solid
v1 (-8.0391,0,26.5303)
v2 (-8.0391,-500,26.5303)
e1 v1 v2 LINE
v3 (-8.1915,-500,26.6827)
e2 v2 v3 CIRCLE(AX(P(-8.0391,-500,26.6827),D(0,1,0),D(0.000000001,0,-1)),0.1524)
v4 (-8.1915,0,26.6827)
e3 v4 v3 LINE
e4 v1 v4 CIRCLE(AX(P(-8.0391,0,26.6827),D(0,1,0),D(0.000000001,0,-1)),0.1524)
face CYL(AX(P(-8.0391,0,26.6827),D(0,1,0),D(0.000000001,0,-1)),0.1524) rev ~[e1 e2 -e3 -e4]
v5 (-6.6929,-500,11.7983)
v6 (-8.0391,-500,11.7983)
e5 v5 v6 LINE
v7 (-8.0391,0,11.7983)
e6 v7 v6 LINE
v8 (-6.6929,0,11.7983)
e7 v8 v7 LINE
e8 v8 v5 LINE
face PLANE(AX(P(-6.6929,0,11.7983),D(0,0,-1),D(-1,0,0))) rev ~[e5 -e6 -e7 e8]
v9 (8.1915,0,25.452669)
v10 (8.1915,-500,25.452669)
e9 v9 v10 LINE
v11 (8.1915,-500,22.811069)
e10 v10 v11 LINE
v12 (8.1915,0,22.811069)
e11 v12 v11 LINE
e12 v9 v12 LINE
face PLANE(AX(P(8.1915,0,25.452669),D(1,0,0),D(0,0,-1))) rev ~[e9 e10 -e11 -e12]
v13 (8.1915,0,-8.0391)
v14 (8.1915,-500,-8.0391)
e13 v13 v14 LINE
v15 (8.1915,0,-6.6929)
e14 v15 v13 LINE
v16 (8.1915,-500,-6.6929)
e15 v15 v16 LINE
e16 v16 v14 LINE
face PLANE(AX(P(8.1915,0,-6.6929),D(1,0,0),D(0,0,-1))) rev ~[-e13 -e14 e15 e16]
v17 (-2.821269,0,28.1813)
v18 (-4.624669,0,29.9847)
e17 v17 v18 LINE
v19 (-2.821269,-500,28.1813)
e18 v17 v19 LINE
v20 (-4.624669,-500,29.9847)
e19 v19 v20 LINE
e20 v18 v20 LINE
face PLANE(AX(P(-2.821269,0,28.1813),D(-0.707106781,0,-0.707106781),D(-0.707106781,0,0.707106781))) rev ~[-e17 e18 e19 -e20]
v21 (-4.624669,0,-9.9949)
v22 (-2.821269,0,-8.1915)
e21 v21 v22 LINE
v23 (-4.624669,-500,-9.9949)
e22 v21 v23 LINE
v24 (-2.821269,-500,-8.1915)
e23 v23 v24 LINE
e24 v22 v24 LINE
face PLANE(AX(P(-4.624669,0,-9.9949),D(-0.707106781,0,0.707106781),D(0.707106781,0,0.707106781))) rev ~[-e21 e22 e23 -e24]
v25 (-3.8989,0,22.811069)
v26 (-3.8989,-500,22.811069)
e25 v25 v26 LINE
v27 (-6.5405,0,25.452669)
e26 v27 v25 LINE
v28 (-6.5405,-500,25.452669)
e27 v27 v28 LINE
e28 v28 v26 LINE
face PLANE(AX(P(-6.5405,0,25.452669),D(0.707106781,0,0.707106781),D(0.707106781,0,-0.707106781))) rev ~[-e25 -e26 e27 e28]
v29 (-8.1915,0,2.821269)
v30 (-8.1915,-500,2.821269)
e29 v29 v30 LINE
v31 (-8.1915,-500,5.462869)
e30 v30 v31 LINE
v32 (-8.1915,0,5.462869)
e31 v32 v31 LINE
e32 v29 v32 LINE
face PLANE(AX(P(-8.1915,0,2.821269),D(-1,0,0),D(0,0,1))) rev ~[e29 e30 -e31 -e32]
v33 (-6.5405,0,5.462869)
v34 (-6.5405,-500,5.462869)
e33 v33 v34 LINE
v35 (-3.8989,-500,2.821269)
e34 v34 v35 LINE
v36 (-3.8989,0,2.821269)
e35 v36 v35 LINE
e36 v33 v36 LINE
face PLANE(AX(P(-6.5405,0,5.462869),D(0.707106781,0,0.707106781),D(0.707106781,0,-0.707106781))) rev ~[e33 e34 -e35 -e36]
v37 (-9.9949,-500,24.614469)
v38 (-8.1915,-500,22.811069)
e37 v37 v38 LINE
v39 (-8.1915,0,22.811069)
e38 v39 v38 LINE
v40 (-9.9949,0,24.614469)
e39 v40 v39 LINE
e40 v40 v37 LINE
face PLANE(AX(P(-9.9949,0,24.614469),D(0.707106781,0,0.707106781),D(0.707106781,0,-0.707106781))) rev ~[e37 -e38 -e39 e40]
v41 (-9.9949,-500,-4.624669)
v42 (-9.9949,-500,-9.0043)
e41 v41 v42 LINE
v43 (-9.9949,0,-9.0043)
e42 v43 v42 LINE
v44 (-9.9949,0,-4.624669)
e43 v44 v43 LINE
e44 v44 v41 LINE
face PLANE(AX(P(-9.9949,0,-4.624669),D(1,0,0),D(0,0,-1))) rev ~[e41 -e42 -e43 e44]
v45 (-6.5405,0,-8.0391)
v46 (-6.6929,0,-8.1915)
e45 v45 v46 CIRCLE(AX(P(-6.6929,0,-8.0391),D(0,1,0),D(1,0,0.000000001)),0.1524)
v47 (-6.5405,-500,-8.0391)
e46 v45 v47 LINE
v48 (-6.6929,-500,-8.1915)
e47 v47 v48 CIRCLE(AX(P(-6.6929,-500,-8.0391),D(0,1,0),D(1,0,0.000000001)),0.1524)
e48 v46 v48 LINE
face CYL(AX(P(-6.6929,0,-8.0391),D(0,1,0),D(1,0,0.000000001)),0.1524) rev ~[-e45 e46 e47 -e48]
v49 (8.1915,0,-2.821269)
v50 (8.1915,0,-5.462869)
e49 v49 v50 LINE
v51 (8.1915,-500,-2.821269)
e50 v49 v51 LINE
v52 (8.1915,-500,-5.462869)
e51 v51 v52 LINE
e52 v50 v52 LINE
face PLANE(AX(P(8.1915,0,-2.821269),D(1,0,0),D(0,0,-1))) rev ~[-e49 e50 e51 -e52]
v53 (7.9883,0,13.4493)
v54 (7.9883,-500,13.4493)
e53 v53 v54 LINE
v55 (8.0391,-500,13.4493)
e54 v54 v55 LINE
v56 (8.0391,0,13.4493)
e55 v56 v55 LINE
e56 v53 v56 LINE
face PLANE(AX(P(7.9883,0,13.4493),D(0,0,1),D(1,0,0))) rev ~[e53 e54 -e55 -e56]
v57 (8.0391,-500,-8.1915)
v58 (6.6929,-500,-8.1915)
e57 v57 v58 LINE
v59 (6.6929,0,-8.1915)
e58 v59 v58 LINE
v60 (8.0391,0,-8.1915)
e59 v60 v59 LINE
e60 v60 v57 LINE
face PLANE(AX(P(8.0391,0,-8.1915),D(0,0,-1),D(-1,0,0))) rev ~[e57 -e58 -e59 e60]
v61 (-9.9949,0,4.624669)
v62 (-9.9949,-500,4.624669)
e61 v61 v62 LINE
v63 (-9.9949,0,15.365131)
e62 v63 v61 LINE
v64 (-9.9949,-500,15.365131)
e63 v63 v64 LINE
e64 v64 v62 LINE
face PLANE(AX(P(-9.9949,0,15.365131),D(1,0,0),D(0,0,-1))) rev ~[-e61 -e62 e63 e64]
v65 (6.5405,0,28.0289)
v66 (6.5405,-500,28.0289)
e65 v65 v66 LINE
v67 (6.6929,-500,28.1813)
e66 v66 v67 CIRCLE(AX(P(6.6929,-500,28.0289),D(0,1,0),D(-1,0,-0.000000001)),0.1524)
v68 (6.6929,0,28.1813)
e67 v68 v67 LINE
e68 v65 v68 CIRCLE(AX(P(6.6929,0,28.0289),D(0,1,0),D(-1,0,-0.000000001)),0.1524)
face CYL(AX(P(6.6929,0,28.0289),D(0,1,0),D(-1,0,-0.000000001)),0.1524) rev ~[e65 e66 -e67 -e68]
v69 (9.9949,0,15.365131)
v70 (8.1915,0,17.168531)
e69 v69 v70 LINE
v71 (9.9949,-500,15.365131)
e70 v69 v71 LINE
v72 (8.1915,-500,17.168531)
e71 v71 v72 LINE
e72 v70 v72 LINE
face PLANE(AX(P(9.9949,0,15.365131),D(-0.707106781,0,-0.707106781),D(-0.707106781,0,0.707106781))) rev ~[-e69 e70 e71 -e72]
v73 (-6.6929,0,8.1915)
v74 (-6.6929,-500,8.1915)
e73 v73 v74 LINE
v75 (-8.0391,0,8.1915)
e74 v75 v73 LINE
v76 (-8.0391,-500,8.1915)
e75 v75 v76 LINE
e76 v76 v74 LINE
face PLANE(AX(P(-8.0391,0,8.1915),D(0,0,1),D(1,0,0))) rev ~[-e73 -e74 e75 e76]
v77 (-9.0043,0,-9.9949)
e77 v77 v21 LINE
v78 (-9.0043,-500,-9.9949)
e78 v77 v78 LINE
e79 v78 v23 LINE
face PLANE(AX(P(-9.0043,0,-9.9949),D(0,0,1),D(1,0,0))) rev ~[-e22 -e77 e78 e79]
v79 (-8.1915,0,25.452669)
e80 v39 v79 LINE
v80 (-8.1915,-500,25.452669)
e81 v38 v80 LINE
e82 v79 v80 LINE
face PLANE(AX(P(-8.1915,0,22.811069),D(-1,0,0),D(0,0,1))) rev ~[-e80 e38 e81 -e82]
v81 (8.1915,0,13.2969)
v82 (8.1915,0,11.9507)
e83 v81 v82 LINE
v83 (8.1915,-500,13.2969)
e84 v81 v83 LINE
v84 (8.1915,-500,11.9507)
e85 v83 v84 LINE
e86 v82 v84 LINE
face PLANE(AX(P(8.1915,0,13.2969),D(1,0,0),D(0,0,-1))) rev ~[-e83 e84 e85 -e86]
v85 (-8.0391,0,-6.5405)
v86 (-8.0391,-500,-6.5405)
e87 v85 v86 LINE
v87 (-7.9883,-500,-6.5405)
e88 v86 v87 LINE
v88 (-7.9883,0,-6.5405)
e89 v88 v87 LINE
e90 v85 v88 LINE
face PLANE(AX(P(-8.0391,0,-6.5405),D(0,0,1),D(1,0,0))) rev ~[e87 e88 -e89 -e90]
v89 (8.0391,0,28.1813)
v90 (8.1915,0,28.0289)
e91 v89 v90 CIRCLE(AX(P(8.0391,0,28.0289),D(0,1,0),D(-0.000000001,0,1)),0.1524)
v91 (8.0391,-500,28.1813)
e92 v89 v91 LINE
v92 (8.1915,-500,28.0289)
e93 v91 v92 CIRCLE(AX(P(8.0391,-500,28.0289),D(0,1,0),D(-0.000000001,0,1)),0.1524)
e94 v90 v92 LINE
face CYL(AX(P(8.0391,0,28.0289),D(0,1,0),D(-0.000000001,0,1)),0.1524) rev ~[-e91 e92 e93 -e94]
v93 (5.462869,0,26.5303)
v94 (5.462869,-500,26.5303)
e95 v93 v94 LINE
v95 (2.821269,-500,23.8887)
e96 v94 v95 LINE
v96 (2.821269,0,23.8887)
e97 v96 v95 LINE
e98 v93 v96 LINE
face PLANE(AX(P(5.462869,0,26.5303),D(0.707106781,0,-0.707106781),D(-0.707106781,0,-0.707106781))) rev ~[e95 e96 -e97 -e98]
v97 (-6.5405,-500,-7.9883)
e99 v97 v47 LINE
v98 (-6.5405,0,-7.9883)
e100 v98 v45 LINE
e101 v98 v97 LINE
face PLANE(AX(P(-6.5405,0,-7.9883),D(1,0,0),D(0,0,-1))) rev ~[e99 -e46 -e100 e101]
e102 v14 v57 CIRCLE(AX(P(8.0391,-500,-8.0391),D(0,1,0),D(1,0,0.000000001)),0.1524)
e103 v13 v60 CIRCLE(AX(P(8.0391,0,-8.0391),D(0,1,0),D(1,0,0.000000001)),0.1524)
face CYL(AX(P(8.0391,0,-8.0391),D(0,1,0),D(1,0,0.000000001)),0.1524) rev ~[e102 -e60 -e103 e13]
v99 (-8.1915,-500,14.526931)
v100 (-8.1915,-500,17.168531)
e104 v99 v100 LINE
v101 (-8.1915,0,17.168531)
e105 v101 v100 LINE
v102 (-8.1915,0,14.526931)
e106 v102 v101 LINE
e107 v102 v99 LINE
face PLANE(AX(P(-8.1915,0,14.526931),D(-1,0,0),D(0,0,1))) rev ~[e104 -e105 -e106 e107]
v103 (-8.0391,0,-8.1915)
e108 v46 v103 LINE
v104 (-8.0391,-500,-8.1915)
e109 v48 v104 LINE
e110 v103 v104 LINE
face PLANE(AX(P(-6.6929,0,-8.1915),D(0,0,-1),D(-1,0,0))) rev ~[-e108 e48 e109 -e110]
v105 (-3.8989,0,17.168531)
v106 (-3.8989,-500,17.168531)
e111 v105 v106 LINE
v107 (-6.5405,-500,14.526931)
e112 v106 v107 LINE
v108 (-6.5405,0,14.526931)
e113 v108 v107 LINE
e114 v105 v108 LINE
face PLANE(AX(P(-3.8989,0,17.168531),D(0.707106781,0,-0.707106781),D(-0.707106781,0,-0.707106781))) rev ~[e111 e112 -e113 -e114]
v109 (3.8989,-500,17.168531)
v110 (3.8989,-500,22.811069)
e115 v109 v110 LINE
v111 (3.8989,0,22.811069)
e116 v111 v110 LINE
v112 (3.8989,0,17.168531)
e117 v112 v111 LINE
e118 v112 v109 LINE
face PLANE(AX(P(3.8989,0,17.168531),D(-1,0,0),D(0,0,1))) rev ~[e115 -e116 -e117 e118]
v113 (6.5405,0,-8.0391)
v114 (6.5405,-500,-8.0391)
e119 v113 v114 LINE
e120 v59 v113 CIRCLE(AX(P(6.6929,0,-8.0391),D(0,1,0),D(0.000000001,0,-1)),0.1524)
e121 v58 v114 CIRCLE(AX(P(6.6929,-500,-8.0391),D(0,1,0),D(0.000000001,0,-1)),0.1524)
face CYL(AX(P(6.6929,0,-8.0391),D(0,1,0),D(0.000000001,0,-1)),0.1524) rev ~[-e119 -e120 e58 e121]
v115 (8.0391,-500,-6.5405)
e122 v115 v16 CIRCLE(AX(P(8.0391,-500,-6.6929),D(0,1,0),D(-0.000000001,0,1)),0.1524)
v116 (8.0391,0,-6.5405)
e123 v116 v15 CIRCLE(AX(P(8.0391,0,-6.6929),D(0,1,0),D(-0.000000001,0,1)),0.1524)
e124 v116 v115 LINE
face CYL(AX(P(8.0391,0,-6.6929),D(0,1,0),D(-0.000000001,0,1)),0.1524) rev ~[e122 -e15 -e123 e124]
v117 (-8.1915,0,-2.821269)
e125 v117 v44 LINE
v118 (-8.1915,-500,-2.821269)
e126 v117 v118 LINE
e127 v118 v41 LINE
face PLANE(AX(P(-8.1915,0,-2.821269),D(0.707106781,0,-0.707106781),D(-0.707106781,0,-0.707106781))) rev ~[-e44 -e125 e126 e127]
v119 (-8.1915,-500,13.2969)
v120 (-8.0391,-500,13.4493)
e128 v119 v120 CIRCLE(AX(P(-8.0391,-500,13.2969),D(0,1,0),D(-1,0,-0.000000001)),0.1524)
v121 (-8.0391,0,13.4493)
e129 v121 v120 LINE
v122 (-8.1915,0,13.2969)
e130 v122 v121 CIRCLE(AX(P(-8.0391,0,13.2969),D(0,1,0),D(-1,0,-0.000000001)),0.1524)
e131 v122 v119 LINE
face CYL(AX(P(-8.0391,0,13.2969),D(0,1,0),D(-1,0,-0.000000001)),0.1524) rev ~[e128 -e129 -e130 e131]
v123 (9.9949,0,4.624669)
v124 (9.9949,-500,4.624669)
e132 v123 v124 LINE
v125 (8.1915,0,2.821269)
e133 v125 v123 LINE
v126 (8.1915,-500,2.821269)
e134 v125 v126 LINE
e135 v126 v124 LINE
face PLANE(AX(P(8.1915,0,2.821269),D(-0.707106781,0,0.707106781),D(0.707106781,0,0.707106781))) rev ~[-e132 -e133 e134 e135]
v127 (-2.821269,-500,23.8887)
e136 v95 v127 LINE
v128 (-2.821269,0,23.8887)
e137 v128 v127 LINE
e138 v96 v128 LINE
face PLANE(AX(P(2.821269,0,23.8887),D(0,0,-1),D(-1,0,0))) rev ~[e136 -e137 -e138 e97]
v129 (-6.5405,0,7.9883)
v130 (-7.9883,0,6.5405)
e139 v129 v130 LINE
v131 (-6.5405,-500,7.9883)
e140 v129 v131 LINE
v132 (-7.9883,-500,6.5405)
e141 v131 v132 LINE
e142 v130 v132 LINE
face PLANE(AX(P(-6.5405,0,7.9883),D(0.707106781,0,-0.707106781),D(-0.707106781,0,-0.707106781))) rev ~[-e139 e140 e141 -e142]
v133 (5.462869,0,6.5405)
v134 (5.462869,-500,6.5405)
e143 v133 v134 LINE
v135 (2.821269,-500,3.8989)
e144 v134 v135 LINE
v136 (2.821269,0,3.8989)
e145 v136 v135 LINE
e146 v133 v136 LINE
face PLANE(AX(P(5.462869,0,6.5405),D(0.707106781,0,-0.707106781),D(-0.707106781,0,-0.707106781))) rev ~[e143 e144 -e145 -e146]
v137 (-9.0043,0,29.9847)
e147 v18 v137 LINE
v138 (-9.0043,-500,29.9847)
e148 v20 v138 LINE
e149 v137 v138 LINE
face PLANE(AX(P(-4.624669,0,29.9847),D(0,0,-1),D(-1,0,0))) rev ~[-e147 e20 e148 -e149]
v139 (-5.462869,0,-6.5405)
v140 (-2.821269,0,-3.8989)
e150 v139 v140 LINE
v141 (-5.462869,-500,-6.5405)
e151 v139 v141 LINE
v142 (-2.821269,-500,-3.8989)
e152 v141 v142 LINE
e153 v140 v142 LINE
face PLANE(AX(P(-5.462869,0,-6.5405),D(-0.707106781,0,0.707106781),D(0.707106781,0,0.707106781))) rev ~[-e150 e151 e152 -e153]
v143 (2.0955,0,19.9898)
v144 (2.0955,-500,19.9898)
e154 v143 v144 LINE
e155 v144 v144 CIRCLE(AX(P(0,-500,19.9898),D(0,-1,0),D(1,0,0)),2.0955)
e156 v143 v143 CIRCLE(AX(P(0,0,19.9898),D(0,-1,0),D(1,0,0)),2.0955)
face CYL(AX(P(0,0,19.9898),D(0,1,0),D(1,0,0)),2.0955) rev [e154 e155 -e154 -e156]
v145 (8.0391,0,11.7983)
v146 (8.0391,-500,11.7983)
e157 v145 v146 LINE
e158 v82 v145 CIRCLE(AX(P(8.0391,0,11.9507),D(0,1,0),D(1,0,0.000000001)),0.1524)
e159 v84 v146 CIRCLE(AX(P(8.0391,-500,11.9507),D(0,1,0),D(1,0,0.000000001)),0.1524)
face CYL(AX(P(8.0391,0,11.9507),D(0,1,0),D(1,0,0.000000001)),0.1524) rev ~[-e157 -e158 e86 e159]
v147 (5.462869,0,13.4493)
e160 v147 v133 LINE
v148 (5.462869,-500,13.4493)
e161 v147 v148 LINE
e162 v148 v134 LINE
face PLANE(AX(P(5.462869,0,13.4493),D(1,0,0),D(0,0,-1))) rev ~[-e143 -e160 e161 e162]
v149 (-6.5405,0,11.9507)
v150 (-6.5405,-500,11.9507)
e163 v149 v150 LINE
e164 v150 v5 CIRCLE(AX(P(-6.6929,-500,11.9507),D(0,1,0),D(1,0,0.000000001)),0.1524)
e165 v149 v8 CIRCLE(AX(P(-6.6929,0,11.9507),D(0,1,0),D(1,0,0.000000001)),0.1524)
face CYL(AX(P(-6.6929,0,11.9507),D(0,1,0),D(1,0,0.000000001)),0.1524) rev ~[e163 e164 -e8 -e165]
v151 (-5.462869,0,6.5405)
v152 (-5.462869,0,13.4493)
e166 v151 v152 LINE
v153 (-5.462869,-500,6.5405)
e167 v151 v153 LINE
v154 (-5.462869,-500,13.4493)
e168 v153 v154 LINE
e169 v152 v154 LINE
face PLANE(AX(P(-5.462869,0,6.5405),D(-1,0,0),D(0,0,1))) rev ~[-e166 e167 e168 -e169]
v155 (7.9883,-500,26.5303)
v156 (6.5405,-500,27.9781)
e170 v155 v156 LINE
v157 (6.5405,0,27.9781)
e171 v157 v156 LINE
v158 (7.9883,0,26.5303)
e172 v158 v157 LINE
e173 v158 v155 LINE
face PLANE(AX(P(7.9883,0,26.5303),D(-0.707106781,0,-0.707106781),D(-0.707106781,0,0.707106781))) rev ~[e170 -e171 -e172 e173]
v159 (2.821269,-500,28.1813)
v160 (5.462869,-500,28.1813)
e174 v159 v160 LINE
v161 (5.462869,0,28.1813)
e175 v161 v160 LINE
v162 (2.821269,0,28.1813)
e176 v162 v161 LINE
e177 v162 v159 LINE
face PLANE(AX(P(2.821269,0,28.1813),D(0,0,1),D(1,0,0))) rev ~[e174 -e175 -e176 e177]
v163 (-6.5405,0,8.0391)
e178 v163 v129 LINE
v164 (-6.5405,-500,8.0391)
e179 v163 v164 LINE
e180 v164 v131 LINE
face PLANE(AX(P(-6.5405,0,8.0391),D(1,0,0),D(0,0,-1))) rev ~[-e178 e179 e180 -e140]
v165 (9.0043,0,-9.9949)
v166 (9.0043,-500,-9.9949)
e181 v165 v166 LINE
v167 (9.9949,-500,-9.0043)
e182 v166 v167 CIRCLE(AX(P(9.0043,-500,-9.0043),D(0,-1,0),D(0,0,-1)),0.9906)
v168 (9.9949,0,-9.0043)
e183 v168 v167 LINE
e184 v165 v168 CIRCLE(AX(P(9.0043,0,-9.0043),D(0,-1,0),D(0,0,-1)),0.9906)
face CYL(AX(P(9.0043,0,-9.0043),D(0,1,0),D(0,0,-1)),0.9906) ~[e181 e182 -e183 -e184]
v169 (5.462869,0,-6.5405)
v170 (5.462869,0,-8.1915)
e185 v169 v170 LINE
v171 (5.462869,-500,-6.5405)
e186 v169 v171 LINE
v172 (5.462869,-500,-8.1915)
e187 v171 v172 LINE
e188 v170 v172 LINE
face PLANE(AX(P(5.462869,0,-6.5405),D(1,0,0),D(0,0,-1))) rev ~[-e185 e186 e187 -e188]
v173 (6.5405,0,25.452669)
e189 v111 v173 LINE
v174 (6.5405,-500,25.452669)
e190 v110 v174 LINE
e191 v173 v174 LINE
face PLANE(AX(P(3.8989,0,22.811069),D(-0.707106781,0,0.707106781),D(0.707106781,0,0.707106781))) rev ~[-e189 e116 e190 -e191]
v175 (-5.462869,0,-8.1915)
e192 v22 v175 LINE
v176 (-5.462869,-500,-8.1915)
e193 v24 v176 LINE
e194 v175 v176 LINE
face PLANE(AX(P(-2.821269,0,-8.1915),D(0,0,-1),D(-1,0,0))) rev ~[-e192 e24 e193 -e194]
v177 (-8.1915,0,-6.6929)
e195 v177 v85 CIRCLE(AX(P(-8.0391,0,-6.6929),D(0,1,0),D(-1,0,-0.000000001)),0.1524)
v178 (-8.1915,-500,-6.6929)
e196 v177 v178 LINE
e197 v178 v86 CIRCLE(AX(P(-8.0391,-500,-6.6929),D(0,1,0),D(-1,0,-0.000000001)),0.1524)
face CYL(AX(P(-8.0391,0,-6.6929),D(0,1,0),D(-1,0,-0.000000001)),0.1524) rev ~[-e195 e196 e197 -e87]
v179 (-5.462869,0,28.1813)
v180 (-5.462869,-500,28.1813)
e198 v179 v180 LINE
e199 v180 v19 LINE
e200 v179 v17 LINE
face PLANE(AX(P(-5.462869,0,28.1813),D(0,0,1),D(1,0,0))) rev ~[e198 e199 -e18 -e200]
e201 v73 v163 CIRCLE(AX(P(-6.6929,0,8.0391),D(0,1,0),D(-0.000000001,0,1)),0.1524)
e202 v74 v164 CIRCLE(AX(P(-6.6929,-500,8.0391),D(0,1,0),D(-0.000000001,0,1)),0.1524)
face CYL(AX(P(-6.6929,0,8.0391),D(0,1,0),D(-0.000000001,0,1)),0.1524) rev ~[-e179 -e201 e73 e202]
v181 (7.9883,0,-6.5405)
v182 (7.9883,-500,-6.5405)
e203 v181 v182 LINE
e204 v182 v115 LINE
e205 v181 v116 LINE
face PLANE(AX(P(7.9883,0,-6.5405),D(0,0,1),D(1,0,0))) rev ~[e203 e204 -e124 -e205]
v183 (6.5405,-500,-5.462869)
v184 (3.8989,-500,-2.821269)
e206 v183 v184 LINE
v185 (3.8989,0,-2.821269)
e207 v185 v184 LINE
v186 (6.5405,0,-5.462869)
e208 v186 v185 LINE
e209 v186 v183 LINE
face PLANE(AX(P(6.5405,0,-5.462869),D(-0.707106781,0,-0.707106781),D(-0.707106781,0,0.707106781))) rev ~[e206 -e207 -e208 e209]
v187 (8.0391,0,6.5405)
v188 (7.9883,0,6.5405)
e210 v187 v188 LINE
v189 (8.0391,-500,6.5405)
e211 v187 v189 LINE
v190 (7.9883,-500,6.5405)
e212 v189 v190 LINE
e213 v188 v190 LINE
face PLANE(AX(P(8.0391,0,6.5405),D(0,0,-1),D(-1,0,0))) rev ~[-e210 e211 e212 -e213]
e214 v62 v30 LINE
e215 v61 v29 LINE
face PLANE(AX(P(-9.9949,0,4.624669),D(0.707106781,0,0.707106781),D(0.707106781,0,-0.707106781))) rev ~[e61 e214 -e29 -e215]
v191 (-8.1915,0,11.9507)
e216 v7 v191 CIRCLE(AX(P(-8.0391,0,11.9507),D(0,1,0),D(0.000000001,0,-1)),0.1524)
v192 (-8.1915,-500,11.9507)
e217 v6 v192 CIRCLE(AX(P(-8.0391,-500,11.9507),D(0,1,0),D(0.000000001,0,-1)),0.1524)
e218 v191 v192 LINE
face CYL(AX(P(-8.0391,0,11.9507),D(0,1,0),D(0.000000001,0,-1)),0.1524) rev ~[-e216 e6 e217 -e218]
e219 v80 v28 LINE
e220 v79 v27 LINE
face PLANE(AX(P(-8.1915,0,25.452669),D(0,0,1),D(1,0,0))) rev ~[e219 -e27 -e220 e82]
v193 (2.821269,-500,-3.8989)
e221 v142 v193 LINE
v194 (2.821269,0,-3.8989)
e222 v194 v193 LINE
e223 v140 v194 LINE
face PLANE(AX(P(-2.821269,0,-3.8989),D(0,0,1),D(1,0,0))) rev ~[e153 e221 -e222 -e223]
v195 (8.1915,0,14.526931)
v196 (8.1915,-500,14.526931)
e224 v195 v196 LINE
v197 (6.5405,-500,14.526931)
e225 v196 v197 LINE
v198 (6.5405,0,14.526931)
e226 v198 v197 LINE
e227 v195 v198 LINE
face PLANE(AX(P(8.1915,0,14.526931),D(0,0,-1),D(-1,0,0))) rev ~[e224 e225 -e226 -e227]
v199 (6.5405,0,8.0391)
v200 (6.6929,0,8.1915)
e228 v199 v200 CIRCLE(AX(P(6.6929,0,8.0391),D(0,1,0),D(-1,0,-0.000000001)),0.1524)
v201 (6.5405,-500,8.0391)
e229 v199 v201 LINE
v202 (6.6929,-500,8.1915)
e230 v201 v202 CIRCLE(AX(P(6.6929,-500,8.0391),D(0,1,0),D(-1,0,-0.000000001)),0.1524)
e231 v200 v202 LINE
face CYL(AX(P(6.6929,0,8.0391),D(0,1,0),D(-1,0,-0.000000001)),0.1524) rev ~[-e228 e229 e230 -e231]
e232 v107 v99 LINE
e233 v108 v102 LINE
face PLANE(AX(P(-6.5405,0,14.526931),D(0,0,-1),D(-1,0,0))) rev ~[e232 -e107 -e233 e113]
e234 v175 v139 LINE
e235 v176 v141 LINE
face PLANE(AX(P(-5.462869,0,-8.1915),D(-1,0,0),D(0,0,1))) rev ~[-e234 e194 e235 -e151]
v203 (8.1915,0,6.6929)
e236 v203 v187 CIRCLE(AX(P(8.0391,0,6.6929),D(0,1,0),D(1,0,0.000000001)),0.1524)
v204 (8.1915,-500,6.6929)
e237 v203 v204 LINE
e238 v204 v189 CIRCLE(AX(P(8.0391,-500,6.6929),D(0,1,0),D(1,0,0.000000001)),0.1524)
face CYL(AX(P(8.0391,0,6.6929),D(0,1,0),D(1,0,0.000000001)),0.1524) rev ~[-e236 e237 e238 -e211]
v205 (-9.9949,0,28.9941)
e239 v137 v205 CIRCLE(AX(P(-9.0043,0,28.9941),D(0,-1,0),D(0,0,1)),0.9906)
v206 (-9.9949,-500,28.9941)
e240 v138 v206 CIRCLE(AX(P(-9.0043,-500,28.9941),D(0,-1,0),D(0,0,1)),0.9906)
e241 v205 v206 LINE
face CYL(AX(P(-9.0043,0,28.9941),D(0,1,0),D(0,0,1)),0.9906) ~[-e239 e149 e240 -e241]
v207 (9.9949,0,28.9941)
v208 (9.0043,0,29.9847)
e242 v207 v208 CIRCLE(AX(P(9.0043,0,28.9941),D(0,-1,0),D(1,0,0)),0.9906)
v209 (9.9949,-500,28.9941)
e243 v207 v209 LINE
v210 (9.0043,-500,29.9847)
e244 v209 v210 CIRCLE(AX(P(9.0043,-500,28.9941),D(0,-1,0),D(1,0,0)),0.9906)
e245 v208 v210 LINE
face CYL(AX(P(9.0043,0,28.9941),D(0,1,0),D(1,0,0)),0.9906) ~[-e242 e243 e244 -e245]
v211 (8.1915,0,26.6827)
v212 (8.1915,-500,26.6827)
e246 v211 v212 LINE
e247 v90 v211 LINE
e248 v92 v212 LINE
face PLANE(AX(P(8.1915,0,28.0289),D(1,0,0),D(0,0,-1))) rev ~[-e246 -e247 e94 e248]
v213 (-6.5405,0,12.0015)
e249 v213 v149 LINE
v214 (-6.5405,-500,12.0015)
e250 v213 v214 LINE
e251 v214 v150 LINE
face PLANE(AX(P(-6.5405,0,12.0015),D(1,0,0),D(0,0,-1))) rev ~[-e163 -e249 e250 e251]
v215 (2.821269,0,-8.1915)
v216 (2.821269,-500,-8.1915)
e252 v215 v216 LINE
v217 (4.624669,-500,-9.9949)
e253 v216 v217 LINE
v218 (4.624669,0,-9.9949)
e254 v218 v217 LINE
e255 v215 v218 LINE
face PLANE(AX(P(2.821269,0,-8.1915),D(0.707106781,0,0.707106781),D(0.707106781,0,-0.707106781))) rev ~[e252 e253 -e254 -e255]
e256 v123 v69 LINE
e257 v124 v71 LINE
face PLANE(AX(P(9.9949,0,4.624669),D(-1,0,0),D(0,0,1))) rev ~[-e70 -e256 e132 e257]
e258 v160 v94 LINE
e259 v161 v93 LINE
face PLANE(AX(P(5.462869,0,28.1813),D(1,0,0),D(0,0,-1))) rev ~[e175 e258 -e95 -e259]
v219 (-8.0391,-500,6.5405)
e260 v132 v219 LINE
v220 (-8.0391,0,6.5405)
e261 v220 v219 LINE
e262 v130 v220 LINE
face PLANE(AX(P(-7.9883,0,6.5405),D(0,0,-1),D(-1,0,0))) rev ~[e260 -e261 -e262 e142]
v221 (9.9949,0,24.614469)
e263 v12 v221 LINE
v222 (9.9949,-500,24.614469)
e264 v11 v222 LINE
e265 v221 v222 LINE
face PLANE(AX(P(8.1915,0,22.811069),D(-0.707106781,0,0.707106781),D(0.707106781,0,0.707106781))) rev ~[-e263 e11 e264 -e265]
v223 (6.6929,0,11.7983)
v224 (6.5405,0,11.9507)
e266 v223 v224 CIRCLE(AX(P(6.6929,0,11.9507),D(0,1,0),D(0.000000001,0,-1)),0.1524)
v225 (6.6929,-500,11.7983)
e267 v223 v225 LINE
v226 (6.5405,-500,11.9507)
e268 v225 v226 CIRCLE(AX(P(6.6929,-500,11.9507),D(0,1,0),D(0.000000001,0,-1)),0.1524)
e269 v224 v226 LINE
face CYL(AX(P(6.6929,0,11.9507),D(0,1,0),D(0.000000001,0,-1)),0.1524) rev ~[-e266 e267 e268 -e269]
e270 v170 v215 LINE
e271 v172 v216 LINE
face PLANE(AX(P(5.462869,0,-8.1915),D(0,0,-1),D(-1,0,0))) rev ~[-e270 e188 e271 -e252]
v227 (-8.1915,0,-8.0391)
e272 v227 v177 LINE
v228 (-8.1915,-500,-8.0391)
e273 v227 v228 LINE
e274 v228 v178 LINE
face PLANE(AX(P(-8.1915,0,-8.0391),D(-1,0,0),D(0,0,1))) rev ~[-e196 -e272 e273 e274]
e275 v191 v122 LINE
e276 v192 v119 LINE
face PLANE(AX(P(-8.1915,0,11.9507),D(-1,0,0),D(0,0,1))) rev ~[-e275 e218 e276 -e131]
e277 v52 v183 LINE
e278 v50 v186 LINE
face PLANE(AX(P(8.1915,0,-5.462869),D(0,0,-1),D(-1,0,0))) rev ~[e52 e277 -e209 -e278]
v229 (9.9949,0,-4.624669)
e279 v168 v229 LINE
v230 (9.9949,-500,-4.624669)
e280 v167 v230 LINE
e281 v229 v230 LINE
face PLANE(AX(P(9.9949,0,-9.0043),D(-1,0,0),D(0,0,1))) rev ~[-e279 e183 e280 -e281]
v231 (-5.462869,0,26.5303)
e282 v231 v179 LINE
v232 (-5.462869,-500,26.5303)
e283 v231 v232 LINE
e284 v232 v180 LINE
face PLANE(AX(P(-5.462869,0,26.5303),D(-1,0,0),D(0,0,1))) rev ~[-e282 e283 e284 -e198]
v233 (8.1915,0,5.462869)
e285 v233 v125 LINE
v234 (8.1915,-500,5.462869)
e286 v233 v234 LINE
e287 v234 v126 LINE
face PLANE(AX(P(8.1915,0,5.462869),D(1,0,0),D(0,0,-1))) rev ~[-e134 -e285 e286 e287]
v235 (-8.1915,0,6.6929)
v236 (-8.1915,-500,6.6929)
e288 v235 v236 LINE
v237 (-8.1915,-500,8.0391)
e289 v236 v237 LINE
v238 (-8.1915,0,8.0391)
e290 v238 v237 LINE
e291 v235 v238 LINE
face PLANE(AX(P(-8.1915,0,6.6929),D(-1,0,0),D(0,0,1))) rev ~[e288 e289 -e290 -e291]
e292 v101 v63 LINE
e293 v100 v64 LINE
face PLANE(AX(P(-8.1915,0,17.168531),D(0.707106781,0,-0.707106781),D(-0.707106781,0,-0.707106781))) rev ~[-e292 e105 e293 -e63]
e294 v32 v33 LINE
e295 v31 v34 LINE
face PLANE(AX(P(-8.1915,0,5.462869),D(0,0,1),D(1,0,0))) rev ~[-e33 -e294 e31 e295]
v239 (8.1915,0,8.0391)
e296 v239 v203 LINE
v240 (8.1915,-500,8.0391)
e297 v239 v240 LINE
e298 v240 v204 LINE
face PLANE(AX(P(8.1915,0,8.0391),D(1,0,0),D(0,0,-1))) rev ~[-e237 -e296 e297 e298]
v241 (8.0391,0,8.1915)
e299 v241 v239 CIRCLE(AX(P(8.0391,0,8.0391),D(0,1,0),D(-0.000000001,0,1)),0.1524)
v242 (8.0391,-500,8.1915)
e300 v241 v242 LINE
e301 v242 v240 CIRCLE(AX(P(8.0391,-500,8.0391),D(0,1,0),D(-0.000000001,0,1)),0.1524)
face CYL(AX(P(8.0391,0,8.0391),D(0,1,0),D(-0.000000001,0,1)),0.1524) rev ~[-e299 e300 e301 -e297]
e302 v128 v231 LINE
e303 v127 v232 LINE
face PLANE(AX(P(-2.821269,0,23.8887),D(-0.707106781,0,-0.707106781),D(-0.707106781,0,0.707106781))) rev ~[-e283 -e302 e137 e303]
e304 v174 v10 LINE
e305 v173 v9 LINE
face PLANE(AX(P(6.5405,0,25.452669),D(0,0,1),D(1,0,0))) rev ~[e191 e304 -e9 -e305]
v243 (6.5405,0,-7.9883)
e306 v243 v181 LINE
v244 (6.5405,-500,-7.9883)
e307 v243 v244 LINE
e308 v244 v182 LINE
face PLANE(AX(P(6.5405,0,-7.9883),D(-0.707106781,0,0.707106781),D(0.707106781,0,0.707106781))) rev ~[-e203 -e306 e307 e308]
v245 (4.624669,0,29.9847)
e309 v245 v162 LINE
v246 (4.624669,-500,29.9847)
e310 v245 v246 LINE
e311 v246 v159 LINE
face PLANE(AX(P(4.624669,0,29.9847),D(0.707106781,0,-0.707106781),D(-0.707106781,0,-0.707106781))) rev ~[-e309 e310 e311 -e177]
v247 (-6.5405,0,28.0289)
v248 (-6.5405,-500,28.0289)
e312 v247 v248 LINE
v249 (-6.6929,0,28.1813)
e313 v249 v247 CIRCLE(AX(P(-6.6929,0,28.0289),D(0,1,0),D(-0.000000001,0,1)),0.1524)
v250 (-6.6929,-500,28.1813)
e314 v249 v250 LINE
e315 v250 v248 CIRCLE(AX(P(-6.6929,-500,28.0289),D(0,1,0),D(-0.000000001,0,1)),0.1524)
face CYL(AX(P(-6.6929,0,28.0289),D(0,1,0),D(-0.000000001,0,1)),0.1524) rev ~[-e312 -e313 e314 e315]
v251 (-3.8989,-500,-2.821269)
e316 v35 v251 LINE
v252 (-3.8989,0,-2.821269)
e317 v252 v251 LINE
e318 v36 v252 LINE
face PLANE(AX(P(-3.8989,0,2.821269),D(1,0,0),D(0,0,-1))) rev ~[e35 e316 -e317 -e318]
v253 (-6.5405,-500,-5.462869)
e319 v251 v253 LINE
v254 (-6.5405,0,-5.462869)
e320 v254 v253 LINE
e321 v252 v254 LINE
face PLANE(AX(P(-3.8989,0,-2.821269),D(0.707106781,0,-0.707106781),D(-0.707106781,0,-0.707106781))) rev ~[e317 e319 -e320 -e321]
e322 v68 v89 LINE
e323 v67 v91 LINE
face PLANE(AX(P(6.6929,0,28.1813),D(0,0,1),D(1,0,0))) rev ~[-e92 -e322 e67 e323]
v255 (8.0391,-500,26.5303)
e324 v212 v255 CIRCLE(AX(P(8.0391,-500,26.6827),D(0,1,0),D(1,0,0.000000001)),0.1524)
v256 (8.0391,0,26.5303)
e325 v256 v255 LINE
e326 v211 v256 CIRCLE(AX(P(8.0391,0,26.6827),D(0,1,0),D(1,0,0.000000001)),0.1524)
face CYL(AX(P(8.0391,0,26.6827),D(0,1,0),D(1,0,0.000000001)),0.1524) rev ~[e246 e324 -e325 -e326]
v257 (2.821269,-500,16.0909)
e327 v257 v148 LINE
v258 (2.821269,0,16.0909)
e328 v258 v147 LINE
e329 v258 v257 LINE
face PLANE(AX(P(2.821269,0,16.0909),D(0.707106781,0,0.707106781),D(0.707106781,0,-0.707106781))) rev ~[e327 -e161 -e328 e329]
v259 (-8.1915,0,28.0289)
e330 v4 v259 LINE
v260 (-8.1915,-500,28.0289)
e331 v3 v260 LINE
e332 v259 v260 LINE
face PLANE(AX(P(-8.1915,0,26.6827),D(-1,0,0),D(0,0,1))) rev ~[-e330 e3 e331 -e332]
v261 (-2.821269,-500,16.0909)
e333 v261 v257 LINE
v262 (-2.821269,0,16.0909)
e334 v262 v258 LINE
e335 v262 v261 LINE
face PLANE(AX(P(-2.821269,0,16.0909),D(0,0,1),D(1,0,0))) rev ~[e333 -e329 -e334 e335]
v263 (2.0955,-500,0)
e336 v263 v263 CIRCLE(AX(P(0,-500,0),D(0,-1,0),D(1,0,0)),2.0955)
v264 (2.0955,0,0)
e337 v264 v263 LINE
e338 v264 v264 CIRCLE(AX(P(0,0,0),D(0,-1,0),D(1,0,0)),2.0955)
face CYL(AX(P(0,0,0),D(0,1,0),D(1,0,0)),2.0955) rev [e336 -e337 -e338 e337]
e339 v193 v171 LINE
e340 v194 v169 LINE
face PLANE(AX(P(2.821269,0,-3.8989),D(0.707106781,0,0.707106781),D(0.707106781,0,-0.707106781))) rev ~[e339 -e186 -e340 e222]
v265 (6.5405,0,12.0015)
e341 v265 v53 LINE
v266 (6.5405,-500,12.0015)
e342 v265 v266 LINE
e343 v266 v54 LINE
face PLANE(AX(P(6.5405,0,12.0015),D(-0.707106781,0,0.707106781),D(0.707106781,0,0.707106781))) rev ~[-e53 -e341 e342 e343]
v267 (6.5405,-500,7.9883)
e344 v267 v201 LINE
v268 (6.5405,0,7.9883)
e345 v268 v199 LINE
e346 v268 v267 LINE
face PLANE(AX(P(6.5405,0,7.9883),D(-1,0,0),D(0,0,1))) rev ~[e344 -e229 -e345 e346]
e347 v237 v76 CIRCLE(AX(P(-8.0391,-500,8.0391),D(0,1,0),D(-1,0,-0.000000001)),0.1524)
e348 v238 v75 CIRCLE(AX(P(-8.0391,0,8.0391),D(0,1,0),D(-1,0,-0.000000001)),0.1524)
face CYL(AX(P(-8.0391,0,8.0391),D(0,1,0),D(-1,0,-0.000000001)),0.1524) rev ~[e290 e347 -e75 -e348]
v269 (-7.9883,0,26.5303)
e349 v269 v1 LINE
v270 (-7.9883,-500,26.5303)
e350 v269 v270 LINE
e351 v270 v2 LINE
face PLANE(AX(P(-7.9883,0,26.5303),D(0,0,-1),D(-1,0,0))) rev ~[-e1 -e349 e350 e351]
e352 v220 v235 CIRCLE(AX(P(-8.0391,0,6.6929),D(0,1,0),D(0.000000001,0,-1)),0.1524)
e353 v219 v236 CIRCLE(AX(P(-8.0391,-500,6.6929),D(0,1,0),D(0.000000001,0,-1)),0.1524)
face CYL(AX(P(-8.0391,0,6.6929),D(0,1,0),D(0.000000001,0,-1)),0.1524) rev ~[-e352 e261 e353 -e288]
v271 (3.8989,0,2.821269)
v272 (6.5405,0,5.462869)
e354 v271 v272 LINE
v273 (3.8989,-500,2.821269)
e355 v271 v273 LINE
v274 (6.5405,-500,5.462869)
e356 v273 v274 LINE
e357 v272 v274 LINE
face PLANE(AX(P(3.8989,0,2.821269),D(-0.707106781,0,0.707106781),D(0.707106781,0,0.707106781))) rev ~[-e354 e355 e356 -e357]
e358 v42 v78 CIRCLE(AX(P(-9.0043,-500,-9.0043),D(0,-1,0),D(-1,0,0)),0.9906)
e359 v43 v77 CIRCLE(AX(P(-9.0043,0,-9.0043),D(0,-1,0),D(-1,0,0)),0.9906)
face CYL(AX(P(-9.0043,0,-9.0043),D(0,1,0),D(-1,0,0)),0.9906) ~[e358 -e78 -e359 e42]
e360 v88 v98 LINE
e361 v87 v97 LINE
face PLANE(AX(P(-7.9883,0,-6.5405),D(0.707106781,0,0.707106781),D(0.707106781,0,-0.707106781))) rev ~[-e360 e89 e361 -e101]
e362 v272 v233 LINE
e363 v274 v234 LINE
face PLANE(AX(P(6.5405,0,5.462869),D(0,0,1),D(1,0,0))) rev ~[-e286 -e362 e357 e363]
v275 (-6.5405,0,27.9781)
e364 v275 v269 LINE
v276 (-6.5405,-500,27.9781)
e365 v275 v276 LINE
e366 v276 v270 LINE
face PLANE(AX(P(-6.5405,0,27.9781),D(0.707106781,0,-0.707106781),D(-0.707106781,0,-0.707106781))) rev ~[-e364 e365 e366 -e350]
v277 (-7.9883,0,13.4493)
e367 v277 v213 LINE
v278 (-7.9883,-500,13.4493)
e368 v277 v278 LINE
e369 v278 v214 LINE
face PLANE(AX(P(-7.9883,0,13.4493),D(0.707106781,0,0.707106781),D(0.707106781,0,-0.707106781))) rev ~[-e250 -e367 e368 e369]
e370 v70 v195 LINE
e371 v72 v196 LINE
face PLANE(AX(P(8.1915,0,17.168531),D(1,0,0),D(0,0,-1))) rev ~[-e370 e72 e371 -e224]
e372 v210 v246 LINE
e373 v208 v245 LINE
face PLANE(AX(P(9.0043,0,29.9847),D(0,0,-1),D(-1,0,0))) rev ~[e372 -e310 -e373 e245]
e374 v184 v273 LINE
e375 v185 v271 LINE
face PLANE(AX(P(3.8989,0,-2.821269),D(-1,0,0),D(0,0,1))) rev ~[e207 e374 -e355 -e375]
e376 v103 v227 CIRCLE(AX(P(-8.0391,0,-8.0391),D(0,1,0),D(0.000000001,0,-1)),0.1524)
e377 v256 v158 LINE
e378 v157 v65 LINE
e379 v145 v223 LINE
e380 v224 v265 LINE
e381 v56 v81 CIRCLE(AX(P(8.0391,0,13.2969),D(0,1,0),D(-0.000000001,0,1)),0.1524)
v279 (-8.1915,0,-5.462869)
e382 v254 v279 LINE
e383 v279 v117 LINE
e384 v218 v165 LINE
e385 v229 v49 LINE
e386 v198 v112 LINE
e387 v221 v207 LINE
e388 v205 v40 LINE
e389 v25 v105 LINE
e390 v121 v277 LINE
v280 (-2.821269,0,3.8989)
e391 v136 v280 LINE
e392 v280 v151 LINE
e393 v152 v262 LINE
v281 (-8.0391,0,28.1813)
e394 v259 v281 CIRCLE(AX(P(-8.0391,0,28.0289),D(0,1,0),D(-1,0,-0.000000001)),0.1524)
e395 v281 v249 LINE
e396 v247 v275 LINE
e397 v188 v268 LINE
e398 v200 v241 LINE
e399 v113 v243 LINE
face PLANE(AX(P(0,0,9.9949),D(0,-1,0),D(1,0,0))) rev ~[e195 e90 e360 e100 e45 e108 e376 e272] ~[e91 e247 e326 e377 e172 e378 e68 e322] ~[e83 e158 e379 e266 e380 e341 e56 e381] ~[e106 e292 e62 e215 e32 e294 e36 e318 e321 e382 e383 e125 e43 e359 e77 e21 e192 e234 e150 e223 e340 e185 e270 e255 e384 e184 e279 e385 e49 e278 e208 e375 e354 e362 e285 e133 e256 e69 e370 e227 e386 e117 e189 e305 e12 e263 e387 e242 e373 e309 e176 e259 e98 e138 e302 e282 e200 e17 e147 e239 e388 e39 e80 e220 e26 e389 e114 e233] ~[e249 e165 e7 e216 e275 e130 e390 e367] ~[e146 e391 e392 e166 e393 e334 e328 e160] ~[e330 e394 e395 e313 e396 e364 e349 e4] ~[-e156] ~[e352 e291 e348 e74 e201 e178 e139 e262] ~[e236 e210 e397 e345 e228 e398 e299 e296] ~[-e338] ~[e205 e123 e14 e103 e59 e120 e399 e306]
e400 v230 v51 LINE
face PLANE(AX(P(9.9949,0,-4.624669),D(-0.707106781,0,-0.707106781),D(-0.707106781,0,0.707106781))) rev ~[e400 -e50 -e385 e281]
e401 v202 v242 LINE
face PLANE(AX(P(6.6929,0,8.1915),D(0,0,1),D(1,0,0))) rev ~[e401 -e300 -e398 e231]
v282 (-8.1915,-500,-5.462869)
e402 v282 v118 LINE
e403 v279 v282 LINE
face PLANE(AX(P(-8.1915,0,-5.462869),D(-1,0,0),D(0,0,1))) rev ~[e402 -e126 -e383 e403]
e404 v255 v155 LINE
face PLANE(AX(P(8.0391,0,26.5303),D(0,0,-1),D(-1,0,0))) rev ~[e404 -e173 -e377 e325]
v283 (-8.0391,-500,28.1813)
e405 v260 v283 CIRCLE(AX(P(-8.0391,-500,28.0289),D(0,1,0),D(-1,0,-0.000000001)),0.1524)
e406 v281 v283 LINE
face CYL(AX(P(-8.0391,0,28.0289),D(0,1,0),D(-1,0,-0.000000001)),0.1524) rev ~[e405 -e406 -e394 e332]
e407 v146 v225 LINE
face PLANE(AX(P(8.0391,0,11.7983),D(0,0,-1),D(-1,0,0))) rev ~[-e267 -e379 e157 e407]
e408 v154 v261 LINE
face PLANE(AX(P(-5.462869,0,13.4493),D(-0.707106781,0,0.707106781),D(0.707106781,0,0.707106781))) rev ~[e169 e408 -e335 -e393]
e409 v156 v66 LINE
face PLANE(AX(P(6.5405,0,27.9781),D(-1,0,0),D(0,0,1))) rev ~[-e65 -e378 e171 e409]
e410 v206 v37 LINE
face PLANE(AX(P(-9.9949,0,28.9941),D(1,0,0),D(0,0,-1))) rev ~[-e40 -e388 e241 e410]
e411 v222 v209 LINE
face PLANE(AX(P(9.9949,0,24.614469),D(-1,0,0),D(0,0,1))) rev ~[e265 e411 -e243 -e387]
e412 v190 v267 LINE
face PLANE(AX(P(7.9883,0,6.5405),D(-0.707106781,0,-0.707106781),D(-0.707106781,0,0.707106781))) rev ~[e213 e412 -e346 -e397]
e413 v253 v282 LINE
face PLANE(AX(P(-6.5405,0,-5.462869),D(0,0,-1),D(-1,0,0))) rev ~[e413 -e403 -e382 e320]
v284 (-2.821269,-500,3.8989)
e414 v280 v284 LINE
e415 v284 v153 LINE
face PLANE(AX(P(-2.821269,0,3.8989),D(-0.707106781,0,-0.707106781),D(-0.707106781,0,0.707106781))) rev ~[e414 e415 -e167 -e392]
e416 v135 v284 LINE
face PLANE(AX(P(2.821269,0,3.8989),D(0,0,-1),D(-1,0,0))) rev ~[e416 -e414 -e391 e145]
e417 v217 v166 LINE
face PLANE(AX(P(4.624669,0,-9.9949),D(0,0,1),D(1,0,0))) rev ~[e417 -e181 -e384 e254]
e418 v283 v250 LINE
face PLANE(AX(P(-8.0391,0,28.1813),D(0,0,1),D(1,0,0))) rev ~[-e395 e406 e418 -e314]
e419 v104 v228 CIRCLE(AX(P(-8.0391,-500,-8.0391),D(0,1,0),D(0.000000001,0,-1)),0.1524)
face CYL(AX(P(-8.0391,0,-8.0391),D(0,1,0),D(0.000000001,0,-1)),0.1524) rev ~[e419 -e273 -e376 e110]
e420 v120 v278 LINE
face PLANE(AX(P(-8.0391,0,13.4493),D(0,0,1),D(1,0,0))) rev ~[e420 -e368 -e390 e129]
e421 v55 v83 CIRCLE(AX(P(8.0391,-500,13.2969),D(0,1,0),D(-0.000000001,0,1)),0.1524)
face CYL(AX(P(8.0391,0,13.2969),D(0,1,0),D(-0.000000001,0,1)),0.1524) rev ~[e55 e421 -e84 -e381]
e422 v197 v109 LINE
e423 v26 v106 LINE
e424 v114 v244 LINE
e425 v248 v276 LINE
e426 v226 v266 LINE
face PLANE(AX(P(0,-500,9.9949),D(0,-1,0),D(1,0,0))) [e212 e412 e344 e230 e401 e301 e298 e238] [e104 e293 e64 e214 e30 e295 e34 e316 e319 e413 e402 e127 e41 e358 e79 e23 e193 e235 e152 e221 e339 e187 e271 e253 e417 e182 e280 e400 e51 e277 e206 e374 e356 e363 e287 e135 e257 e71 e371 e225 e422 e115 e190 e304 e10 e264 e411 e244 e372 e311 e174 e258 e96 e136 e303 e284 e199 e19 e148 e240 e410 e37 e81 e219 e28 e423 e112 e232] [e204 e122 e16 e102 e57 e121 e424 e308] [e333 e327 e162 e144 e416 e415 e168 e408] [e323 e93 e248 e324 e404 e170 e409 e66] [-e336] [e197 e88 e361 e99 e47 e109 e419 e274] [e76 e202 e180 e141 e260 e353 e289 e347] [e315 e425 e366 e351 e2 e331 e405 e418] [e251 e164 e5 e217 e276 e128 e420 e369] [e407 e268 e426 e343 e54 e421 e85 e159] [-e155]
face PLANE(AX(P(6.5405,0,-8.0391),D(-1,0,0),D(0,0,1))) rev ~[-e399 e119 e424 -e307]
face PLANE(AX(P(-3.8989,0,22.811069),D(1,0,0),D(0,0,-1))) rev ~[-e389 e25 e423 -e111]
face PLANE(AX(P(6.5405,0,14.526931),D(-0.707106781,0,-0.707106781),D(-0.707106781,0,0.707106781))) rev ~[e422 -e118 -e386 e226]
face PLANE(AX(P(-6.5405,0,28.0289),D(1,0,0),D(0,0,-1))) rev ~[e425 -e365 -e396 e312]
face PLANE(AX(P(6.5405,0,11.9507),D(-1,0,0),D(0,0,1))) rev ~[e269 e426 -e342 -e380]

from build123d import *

# Parameters (mm, degrees)
F0_R     = 2.0955
F2_DEPTH = 500


with BuildPart() as f2:
    # F0 (on Front) → F2 (new body)
    with BuildSketch(Plane.XZ):
        with BuildLine():
            ThreePointArc((-9.9949, -9.0043), (-9.7047599774, -9.7047599774), (-9.0043, -9.9949))
            Line((-9.0043, -9.9949), (-4.6246692655, -9.9949))
            Line((-4.6246692655, -9.9949), (-2.8212692655, -8.1915))
            Line((-2.8212692655, -8.1915), (-5.4628692655, -8.1915))
            Line((-5.4628692655, -8.1915), (-5.4628692655, -6.5405))
            Line((-5.4628692655, -6.5405), (-2.8212692655, -3.8989))
            Line((-2.8212692655, -3.8989), (2.8212692655, -3.8989))
            Line((2.8212692655, -3.8989), (5.4628692655, -6.5405))
            Line((5.4628692655, -6.5405), (5.4628692655, -8.1915))
            Line((5.4628692655, -8.1915), (2.8212692655, -8.1915))
            Line((2.8212692655, -8.1915), (4.6246692655, -9.9949))
            Line((4.6246692655, -9.9949), (9.0043, -9.9949))
            ThreePointArc((9.0043, -9.9949), (9.7047599774, -9.7047599774), (9.9949, -9.0043))
            Line((9.9949, -9.0043), (9.9949, -4.6246692655))
            Line((9.9949, -4.6246692655), (8.1915, -2.8212692655))
            Line((8.1915, -2.8212692655), (8.1915, -5.4628692655))
            Line((8.1915, -5.4628692655), (6.5405, -5.4628692655))
            Line((6.5405, -5.4628692655), (3.8989, -2.8212692655))
            Line((3.8989, -2.8212692655), (3.8989, 2.8212692655))
            Line((3.8989, 2.8212692655), (6.5405, 5.4628692655))
            Line((6.5405, 5.4628692655), (8.1915, 5.4628692655))
            Line((8.1915, 5.4628692655), (8.1915, 2.8212692655))
            Line((8.1915, 2.8212692655), (9.9949, 4.6246692655))
            Line((9.9949, 4.6246692655), (9.9949, 9.0043))
            Line((9.9949, 9.0043), (9.9949, 10.9855))
            Line((9.9949, 10.9855), (9.9949, 15.3651307345))
            Line((9.9949, 15.3651307345), (8.1915, 17.1685307345))
            Line((8.1915, 17.1685307345), (8.1915, 14.5269307345))
            Line((8.1915, 14.5269307345), (6.5405, 14.5269307345))
            Line((6.5405, 14.5269307345), (3.8989, 17.1685307345))
            Line((3.8989, 17.1685307345), (3.8989, 22.8110692655))
            Line((3.8989, 22.8110692655), (6.5405, 25.4526692655))
            Line((6.5405, 25.4526692655), (8.1915, 25.4526692655))
            Line((8.1915, 25.4526692655), (8.1915, 22.8110692655))
            Line((8.1915, 22.8110692655), (9.9949, 24.6144692655))
            Line((9.9949, 24.6144692655), (9.9949, 28.9941))
            ThreePointArc((9.9949, 28.9941), (9.7047599774, 29.6945599774), (9.0043, 29.9847))
            Line((9.0043, 29.9847), (4.6246692655, 29.9847))
            Line((4.6246692655, 29.9847), (2.8212692655, 28.1813))
            Line((2.8212692655, 28.1813), (5.4628692655, 28.1813))
            Line((5.4628692655, 28.1813), (5.4628692655, 26.5303))
            Line((5.4628692655, 26.5303), (2.8212692655, 23.8887))
            Line((2.8212692655, 23.8887), (-2.8212692655, 23.8887))
            Line((-2.8212692655, 23.8887), (-5.4628692655, 26.5303))
            Line((-5.4628692655, 26.5303), (-5.4628692655, 28.1813))
            Line((-5.4628692655, 28.1813), (-2.8212692655, 28.1813))
            Line((-2.8212692655, 28.1813), (-4.6246692655, 29.9847))
            Line((-4.6246692655, 29.9847), (-9.0043, 29.9847))
            ThreePointArc((-9.0043, 29.9847), (-9.7047599774, 29.6945599774), (-9.9949, 28.9941))
            Line((-9.9949, 28.9941), (-9.9949, 24.6144692655))
            Line((-9.9949, 24.6144692655), (-8.1915, 22.8110692655))
            Line((-8.1915, 22.8110692655), (-8.1915, 25.4526692655))
            Line((-8.1915, 25.4526692655), (-6.5405, 25.4526692655))
            Line((-6.5405, 25.4526692655), (-3.8989, 22.8110692655))
            Line((-3.8989, 22.8110692655), (-3.8989, 17.1685307345))
            Line((-3.8989, 17.1685307345), (-6.5405, 14.5269307345))
            Line((-6.5405, 14.5269307345), (-8.1915, 14.5269307345))
            Line((-8.1915, 14.5269307345), (-8.1915, 17.1685307345))
            Line((-8.1915, 17.1685307345), (-9.9949, 15.3651307345))
            Line((-9.9949, 15.3651307345), (-9.9949, 10.9855))
            Line((-9.9949, 10.9855), (-9.9949, 9.0043))
            Line((-9.9949, 9.0043), (-9.9949, 4.6246692655))
            Line((-9.9949, 4.6246692655), (-8.1915, 2.8212692655))
            Line((-8.1915, 2.8212692655), (-8.1915, 5.4628692655))
            Line((-8.1915, 5.4628692655), (-6.5405, 5.4628692655))
            Line((-6.5405, 5.4628692655), (-3.8989, 2.8212692655))
            Line((-3.8989, 2.8212692655), (-3.8989, -2.8212692655))
            Line((-3.8989, -2.8212692655), (-6.5405, -5.4628692655))
            Line((-6.5405, -5.4628692655), (-8.1915, -5.4628692655))
            Line((-8.1915, -5.4628692655), (-8.1915, -2.8212692655))
            Line((-8.1915, -2.8212692655), (-9.9949, -4.6246692655))
            Line((-9.9949, -4.6246692655), (-9.9949, -9.0043))
        make_face()
        with BuildLine():
            ThreePointArc((-8.0391, -8.1915), (-8.1468630735, -8.1468630735), (-8.1915, -8.0391))
            Line((-8.1915, -8.0391), (-8.1915, -6.6929))
            ThreePointArc((-8.1915, -6.6929), (-8.1468630735, -6.5851369265), (-8.0391, -6.5405))
            Line((-8.0391, -6.5405), (-7.9883, -6.5405))
            Line((-7.9883, -6.5405), (-6.5405, -7.9883))
            Line((-6.5405, -7.9883), (-6.5405, -8.0391))
            ThreePointArc((-6.5405, -8.0391), (-6.5851369265, -8.1468630735), (-6.6929, -8.1915))
            Line((-6.6929, -8.1915), (-8.0391, -8.1915))
        make_face(mode=Mode.SUBTRACT)
        with BuildLine():
            Line((-7.9883, 6.5405), (-8.0391, 6.5405))
            ThreePointArc((-8.0391, 6.5405), (-8.1468630735, 6.5851369265), (-8.1915, 6.6929))
            Line((-8.1915, 6.6929), (-8.1915, 8.0391))
            ThreePointArc((-8.1915, 8.0391), (-8.1468630735, 8.1468630735), (-8.0391, 8.1915))
            Line((-8.0391, 8.1915), (-6.6929, 8.1915))
            ThreePointArc((-6.6929, 8.1915), (-6.5851369265, 8.1468630735), (-6.5405, 8.0391))
            Line((-6.5405, 8.0391), (-6.5405, 7.9883))
            Line((-6.5405, 7.9883), (-7.9883, 6.5405))
        make_face(mode=Mode.SUBTRACT)
        with BuildLine():
            Line((8.1915, -6.6929), (8.1915, -8.0391))
            ThreePointArc((8.1915, -8.0391), (8.1468630735, -8.1468630735), (8.0391, -8.1915))
            Line((8.0391, -8.1915), (6.6929, -8.1915))
            ThreePointArc((6.6929, -8.1915), (6.5851369265, -8.1468630735), (6.5405, -8.0391))
            Line((6.5405, -8.0391), (6.5405, -7.9883))
            Line((6.5405, -7.9883), (7.9883, -6.5405))
            Line((7.9883, -6.5405), (8.0391, -6.5405))
            ThreePointArc((8.0391, -6.5405), (8.1468630735, -6.5851369265), (8.1915, -6.6929))
        make_face(mode=Mode.SUBTRACT)
        Circle(F0_R, mode=Mode.SUBTRACT)
        with BuildLine():
            ThreePointArc((8.1915, 6.6929), (8.1468630735, 6.5851369265), (8.0391, 6.5405))
            Line((8.0391, 6.5405), (7.9883, 6.5405))
            Line((7.9883, 6.5405), (6.5405, 7.9883))
            Line((6.5405, 7.9883), (6.5405, 8.0391))
            ThreePointArc((6.5405, 8.0391), (6.5851369265, 8.1468630735), (6.6929, 8.1915))
            Line((6.6929, 8.1915), (8.0391, 8.1915))
            ThreePointArc((8.0391, 8.1915), (8.1468630735, 8.1468630735), (8.1915, 8.0391))
            Line((8.1915, 8.0391), (8.1915, 6.6929))
        make_face(mode=Mode.SUBTRACT)
        with BuildLine():
            ThreePointArc((-8.1915, 13.2969), (-8.1468630735, 13.4046630735), (-8.0391, 13.4493))
            Line((-8.0391, 13.4493), (-7.9883, 13.4493))
            Line((-7.9883, 13.4493), (-6.5405, 12.0015))
            Line((-6.5405, 12.0015), (-6.5405, 11.9507))
            ThreePointArc((-6.5405, 11.9507), (-6.5851369265, 11.8429369265), (-6.6929, 11.7983))
            Line((-6.6929, 11.7983), (-8.0391, 11.7983))
            ThreePointArc((-8.0391, 11.7983), (-8.1468630735, 11.8429369265), (-8.1915, 11.9507))
            Line((-8.1915, 11.9507), (-8.1915, 13.2969))
        make_face(mode=Mode.SUBTRACT)
        with BuildLine():
            ThreePointArc((-6.6929, 28.1813), (-6.5851369265, 28.1366630735), (-6.5405, 28.0289))
            Line((-6.5405, 28.0289), (-6.5405, 27.9781))
            Line((-6.5405, 27.9781), (-7.9883, 26.5303))
            Line((-7.9883, 26.5303), (-8.0391, 26.5303))
            ThreePointArc((-8.0391, 26.5303), (-8.1468630735, 26.5749369265), (-8.1915, 26.6827))
            Line((-8.1915, 26.6827), (-8.1915, 28.0289))
            ThreePointArc((-8.1915, 28.0289), (-8.1468630735, 28.1366630735), (-8.0391, 28.1813))
            Line((-8.0391, 28.1813), (-6.6929, 28.1813))
        make_face(mode=Mode.SUBTRACT)
        Polygon((5.4628692655, 6.5405), (2.8212692655, 3.8989), (-2.8212692655, 3.8989), (-5.4628692655, 6.5405), (-5.4628692655, 13.4493), (-2.8212692655, 16.0909), (2.8212692655, 16.0909), (5.4628692655, 13.4493), align=None, mode=Mode.SUBTRACT)
        with Locations((0, 19.9898)):
            Circle(F0_R, mode=Mode.SUBTRACT)
        with BuildLine():
            Line((8.0391, 11.7983), (6.6929, 11.7983))
            ThreePointArc((6.6929, 11.7983), (6.5851369265, 11.8429369265), (6.5405, 11.9507))
            Line((6.5405, 11.9507), (6.5405, 12.0015))
            Line((6.5405, 12.0015), (7.9883, 13.4493))
            Line((7.9883, 13.4493), (8.0391, 13.4493))
            ThreePointArc((8.0391, 13.4493), (8.1468630735, 13.4046630735), (8.1915, 13.2969))
            Line((8.1915, 13.2969), (8.1915, 11.9507))
            ThreePointArc((8.1915, 11.9507), (8.1468630735, 11.8429369265), (8.0391, 11.7983))
        make_face(mode=Mode.SUBTRACT)
        with BuildLine():
            ThreePointArc((6.5405, 28.0289), (6.5851369265, 28.1366630735), (6.6929, 28.1813))
            Line((6.6929, 28.1813), (8.0391, 28.1813))
            ThreePointArc((8.0391, 28.1813), (8.1468630735, 28.1366630735), (8.1915, 28.0289))
            Line((8.1915, 28.0289), (8.1915, 26.6827))
            ThreePointArc((8.1915, 26.6827), (8.1468630735, 26.5749369265), (8.0391, 26.5303))
            Line((8.0391, 26.5303), (7.9883, 26.5303))
            Line((7.9883, 26.5303), (6.5405, 27.9781))
            Line((6.5405, 27.9781), (6.5405, 28.0289))
        make_face(mode=Mode.SUBTRACT)
    extrude(amount=F2_DEPTH)


solid = f2.part
